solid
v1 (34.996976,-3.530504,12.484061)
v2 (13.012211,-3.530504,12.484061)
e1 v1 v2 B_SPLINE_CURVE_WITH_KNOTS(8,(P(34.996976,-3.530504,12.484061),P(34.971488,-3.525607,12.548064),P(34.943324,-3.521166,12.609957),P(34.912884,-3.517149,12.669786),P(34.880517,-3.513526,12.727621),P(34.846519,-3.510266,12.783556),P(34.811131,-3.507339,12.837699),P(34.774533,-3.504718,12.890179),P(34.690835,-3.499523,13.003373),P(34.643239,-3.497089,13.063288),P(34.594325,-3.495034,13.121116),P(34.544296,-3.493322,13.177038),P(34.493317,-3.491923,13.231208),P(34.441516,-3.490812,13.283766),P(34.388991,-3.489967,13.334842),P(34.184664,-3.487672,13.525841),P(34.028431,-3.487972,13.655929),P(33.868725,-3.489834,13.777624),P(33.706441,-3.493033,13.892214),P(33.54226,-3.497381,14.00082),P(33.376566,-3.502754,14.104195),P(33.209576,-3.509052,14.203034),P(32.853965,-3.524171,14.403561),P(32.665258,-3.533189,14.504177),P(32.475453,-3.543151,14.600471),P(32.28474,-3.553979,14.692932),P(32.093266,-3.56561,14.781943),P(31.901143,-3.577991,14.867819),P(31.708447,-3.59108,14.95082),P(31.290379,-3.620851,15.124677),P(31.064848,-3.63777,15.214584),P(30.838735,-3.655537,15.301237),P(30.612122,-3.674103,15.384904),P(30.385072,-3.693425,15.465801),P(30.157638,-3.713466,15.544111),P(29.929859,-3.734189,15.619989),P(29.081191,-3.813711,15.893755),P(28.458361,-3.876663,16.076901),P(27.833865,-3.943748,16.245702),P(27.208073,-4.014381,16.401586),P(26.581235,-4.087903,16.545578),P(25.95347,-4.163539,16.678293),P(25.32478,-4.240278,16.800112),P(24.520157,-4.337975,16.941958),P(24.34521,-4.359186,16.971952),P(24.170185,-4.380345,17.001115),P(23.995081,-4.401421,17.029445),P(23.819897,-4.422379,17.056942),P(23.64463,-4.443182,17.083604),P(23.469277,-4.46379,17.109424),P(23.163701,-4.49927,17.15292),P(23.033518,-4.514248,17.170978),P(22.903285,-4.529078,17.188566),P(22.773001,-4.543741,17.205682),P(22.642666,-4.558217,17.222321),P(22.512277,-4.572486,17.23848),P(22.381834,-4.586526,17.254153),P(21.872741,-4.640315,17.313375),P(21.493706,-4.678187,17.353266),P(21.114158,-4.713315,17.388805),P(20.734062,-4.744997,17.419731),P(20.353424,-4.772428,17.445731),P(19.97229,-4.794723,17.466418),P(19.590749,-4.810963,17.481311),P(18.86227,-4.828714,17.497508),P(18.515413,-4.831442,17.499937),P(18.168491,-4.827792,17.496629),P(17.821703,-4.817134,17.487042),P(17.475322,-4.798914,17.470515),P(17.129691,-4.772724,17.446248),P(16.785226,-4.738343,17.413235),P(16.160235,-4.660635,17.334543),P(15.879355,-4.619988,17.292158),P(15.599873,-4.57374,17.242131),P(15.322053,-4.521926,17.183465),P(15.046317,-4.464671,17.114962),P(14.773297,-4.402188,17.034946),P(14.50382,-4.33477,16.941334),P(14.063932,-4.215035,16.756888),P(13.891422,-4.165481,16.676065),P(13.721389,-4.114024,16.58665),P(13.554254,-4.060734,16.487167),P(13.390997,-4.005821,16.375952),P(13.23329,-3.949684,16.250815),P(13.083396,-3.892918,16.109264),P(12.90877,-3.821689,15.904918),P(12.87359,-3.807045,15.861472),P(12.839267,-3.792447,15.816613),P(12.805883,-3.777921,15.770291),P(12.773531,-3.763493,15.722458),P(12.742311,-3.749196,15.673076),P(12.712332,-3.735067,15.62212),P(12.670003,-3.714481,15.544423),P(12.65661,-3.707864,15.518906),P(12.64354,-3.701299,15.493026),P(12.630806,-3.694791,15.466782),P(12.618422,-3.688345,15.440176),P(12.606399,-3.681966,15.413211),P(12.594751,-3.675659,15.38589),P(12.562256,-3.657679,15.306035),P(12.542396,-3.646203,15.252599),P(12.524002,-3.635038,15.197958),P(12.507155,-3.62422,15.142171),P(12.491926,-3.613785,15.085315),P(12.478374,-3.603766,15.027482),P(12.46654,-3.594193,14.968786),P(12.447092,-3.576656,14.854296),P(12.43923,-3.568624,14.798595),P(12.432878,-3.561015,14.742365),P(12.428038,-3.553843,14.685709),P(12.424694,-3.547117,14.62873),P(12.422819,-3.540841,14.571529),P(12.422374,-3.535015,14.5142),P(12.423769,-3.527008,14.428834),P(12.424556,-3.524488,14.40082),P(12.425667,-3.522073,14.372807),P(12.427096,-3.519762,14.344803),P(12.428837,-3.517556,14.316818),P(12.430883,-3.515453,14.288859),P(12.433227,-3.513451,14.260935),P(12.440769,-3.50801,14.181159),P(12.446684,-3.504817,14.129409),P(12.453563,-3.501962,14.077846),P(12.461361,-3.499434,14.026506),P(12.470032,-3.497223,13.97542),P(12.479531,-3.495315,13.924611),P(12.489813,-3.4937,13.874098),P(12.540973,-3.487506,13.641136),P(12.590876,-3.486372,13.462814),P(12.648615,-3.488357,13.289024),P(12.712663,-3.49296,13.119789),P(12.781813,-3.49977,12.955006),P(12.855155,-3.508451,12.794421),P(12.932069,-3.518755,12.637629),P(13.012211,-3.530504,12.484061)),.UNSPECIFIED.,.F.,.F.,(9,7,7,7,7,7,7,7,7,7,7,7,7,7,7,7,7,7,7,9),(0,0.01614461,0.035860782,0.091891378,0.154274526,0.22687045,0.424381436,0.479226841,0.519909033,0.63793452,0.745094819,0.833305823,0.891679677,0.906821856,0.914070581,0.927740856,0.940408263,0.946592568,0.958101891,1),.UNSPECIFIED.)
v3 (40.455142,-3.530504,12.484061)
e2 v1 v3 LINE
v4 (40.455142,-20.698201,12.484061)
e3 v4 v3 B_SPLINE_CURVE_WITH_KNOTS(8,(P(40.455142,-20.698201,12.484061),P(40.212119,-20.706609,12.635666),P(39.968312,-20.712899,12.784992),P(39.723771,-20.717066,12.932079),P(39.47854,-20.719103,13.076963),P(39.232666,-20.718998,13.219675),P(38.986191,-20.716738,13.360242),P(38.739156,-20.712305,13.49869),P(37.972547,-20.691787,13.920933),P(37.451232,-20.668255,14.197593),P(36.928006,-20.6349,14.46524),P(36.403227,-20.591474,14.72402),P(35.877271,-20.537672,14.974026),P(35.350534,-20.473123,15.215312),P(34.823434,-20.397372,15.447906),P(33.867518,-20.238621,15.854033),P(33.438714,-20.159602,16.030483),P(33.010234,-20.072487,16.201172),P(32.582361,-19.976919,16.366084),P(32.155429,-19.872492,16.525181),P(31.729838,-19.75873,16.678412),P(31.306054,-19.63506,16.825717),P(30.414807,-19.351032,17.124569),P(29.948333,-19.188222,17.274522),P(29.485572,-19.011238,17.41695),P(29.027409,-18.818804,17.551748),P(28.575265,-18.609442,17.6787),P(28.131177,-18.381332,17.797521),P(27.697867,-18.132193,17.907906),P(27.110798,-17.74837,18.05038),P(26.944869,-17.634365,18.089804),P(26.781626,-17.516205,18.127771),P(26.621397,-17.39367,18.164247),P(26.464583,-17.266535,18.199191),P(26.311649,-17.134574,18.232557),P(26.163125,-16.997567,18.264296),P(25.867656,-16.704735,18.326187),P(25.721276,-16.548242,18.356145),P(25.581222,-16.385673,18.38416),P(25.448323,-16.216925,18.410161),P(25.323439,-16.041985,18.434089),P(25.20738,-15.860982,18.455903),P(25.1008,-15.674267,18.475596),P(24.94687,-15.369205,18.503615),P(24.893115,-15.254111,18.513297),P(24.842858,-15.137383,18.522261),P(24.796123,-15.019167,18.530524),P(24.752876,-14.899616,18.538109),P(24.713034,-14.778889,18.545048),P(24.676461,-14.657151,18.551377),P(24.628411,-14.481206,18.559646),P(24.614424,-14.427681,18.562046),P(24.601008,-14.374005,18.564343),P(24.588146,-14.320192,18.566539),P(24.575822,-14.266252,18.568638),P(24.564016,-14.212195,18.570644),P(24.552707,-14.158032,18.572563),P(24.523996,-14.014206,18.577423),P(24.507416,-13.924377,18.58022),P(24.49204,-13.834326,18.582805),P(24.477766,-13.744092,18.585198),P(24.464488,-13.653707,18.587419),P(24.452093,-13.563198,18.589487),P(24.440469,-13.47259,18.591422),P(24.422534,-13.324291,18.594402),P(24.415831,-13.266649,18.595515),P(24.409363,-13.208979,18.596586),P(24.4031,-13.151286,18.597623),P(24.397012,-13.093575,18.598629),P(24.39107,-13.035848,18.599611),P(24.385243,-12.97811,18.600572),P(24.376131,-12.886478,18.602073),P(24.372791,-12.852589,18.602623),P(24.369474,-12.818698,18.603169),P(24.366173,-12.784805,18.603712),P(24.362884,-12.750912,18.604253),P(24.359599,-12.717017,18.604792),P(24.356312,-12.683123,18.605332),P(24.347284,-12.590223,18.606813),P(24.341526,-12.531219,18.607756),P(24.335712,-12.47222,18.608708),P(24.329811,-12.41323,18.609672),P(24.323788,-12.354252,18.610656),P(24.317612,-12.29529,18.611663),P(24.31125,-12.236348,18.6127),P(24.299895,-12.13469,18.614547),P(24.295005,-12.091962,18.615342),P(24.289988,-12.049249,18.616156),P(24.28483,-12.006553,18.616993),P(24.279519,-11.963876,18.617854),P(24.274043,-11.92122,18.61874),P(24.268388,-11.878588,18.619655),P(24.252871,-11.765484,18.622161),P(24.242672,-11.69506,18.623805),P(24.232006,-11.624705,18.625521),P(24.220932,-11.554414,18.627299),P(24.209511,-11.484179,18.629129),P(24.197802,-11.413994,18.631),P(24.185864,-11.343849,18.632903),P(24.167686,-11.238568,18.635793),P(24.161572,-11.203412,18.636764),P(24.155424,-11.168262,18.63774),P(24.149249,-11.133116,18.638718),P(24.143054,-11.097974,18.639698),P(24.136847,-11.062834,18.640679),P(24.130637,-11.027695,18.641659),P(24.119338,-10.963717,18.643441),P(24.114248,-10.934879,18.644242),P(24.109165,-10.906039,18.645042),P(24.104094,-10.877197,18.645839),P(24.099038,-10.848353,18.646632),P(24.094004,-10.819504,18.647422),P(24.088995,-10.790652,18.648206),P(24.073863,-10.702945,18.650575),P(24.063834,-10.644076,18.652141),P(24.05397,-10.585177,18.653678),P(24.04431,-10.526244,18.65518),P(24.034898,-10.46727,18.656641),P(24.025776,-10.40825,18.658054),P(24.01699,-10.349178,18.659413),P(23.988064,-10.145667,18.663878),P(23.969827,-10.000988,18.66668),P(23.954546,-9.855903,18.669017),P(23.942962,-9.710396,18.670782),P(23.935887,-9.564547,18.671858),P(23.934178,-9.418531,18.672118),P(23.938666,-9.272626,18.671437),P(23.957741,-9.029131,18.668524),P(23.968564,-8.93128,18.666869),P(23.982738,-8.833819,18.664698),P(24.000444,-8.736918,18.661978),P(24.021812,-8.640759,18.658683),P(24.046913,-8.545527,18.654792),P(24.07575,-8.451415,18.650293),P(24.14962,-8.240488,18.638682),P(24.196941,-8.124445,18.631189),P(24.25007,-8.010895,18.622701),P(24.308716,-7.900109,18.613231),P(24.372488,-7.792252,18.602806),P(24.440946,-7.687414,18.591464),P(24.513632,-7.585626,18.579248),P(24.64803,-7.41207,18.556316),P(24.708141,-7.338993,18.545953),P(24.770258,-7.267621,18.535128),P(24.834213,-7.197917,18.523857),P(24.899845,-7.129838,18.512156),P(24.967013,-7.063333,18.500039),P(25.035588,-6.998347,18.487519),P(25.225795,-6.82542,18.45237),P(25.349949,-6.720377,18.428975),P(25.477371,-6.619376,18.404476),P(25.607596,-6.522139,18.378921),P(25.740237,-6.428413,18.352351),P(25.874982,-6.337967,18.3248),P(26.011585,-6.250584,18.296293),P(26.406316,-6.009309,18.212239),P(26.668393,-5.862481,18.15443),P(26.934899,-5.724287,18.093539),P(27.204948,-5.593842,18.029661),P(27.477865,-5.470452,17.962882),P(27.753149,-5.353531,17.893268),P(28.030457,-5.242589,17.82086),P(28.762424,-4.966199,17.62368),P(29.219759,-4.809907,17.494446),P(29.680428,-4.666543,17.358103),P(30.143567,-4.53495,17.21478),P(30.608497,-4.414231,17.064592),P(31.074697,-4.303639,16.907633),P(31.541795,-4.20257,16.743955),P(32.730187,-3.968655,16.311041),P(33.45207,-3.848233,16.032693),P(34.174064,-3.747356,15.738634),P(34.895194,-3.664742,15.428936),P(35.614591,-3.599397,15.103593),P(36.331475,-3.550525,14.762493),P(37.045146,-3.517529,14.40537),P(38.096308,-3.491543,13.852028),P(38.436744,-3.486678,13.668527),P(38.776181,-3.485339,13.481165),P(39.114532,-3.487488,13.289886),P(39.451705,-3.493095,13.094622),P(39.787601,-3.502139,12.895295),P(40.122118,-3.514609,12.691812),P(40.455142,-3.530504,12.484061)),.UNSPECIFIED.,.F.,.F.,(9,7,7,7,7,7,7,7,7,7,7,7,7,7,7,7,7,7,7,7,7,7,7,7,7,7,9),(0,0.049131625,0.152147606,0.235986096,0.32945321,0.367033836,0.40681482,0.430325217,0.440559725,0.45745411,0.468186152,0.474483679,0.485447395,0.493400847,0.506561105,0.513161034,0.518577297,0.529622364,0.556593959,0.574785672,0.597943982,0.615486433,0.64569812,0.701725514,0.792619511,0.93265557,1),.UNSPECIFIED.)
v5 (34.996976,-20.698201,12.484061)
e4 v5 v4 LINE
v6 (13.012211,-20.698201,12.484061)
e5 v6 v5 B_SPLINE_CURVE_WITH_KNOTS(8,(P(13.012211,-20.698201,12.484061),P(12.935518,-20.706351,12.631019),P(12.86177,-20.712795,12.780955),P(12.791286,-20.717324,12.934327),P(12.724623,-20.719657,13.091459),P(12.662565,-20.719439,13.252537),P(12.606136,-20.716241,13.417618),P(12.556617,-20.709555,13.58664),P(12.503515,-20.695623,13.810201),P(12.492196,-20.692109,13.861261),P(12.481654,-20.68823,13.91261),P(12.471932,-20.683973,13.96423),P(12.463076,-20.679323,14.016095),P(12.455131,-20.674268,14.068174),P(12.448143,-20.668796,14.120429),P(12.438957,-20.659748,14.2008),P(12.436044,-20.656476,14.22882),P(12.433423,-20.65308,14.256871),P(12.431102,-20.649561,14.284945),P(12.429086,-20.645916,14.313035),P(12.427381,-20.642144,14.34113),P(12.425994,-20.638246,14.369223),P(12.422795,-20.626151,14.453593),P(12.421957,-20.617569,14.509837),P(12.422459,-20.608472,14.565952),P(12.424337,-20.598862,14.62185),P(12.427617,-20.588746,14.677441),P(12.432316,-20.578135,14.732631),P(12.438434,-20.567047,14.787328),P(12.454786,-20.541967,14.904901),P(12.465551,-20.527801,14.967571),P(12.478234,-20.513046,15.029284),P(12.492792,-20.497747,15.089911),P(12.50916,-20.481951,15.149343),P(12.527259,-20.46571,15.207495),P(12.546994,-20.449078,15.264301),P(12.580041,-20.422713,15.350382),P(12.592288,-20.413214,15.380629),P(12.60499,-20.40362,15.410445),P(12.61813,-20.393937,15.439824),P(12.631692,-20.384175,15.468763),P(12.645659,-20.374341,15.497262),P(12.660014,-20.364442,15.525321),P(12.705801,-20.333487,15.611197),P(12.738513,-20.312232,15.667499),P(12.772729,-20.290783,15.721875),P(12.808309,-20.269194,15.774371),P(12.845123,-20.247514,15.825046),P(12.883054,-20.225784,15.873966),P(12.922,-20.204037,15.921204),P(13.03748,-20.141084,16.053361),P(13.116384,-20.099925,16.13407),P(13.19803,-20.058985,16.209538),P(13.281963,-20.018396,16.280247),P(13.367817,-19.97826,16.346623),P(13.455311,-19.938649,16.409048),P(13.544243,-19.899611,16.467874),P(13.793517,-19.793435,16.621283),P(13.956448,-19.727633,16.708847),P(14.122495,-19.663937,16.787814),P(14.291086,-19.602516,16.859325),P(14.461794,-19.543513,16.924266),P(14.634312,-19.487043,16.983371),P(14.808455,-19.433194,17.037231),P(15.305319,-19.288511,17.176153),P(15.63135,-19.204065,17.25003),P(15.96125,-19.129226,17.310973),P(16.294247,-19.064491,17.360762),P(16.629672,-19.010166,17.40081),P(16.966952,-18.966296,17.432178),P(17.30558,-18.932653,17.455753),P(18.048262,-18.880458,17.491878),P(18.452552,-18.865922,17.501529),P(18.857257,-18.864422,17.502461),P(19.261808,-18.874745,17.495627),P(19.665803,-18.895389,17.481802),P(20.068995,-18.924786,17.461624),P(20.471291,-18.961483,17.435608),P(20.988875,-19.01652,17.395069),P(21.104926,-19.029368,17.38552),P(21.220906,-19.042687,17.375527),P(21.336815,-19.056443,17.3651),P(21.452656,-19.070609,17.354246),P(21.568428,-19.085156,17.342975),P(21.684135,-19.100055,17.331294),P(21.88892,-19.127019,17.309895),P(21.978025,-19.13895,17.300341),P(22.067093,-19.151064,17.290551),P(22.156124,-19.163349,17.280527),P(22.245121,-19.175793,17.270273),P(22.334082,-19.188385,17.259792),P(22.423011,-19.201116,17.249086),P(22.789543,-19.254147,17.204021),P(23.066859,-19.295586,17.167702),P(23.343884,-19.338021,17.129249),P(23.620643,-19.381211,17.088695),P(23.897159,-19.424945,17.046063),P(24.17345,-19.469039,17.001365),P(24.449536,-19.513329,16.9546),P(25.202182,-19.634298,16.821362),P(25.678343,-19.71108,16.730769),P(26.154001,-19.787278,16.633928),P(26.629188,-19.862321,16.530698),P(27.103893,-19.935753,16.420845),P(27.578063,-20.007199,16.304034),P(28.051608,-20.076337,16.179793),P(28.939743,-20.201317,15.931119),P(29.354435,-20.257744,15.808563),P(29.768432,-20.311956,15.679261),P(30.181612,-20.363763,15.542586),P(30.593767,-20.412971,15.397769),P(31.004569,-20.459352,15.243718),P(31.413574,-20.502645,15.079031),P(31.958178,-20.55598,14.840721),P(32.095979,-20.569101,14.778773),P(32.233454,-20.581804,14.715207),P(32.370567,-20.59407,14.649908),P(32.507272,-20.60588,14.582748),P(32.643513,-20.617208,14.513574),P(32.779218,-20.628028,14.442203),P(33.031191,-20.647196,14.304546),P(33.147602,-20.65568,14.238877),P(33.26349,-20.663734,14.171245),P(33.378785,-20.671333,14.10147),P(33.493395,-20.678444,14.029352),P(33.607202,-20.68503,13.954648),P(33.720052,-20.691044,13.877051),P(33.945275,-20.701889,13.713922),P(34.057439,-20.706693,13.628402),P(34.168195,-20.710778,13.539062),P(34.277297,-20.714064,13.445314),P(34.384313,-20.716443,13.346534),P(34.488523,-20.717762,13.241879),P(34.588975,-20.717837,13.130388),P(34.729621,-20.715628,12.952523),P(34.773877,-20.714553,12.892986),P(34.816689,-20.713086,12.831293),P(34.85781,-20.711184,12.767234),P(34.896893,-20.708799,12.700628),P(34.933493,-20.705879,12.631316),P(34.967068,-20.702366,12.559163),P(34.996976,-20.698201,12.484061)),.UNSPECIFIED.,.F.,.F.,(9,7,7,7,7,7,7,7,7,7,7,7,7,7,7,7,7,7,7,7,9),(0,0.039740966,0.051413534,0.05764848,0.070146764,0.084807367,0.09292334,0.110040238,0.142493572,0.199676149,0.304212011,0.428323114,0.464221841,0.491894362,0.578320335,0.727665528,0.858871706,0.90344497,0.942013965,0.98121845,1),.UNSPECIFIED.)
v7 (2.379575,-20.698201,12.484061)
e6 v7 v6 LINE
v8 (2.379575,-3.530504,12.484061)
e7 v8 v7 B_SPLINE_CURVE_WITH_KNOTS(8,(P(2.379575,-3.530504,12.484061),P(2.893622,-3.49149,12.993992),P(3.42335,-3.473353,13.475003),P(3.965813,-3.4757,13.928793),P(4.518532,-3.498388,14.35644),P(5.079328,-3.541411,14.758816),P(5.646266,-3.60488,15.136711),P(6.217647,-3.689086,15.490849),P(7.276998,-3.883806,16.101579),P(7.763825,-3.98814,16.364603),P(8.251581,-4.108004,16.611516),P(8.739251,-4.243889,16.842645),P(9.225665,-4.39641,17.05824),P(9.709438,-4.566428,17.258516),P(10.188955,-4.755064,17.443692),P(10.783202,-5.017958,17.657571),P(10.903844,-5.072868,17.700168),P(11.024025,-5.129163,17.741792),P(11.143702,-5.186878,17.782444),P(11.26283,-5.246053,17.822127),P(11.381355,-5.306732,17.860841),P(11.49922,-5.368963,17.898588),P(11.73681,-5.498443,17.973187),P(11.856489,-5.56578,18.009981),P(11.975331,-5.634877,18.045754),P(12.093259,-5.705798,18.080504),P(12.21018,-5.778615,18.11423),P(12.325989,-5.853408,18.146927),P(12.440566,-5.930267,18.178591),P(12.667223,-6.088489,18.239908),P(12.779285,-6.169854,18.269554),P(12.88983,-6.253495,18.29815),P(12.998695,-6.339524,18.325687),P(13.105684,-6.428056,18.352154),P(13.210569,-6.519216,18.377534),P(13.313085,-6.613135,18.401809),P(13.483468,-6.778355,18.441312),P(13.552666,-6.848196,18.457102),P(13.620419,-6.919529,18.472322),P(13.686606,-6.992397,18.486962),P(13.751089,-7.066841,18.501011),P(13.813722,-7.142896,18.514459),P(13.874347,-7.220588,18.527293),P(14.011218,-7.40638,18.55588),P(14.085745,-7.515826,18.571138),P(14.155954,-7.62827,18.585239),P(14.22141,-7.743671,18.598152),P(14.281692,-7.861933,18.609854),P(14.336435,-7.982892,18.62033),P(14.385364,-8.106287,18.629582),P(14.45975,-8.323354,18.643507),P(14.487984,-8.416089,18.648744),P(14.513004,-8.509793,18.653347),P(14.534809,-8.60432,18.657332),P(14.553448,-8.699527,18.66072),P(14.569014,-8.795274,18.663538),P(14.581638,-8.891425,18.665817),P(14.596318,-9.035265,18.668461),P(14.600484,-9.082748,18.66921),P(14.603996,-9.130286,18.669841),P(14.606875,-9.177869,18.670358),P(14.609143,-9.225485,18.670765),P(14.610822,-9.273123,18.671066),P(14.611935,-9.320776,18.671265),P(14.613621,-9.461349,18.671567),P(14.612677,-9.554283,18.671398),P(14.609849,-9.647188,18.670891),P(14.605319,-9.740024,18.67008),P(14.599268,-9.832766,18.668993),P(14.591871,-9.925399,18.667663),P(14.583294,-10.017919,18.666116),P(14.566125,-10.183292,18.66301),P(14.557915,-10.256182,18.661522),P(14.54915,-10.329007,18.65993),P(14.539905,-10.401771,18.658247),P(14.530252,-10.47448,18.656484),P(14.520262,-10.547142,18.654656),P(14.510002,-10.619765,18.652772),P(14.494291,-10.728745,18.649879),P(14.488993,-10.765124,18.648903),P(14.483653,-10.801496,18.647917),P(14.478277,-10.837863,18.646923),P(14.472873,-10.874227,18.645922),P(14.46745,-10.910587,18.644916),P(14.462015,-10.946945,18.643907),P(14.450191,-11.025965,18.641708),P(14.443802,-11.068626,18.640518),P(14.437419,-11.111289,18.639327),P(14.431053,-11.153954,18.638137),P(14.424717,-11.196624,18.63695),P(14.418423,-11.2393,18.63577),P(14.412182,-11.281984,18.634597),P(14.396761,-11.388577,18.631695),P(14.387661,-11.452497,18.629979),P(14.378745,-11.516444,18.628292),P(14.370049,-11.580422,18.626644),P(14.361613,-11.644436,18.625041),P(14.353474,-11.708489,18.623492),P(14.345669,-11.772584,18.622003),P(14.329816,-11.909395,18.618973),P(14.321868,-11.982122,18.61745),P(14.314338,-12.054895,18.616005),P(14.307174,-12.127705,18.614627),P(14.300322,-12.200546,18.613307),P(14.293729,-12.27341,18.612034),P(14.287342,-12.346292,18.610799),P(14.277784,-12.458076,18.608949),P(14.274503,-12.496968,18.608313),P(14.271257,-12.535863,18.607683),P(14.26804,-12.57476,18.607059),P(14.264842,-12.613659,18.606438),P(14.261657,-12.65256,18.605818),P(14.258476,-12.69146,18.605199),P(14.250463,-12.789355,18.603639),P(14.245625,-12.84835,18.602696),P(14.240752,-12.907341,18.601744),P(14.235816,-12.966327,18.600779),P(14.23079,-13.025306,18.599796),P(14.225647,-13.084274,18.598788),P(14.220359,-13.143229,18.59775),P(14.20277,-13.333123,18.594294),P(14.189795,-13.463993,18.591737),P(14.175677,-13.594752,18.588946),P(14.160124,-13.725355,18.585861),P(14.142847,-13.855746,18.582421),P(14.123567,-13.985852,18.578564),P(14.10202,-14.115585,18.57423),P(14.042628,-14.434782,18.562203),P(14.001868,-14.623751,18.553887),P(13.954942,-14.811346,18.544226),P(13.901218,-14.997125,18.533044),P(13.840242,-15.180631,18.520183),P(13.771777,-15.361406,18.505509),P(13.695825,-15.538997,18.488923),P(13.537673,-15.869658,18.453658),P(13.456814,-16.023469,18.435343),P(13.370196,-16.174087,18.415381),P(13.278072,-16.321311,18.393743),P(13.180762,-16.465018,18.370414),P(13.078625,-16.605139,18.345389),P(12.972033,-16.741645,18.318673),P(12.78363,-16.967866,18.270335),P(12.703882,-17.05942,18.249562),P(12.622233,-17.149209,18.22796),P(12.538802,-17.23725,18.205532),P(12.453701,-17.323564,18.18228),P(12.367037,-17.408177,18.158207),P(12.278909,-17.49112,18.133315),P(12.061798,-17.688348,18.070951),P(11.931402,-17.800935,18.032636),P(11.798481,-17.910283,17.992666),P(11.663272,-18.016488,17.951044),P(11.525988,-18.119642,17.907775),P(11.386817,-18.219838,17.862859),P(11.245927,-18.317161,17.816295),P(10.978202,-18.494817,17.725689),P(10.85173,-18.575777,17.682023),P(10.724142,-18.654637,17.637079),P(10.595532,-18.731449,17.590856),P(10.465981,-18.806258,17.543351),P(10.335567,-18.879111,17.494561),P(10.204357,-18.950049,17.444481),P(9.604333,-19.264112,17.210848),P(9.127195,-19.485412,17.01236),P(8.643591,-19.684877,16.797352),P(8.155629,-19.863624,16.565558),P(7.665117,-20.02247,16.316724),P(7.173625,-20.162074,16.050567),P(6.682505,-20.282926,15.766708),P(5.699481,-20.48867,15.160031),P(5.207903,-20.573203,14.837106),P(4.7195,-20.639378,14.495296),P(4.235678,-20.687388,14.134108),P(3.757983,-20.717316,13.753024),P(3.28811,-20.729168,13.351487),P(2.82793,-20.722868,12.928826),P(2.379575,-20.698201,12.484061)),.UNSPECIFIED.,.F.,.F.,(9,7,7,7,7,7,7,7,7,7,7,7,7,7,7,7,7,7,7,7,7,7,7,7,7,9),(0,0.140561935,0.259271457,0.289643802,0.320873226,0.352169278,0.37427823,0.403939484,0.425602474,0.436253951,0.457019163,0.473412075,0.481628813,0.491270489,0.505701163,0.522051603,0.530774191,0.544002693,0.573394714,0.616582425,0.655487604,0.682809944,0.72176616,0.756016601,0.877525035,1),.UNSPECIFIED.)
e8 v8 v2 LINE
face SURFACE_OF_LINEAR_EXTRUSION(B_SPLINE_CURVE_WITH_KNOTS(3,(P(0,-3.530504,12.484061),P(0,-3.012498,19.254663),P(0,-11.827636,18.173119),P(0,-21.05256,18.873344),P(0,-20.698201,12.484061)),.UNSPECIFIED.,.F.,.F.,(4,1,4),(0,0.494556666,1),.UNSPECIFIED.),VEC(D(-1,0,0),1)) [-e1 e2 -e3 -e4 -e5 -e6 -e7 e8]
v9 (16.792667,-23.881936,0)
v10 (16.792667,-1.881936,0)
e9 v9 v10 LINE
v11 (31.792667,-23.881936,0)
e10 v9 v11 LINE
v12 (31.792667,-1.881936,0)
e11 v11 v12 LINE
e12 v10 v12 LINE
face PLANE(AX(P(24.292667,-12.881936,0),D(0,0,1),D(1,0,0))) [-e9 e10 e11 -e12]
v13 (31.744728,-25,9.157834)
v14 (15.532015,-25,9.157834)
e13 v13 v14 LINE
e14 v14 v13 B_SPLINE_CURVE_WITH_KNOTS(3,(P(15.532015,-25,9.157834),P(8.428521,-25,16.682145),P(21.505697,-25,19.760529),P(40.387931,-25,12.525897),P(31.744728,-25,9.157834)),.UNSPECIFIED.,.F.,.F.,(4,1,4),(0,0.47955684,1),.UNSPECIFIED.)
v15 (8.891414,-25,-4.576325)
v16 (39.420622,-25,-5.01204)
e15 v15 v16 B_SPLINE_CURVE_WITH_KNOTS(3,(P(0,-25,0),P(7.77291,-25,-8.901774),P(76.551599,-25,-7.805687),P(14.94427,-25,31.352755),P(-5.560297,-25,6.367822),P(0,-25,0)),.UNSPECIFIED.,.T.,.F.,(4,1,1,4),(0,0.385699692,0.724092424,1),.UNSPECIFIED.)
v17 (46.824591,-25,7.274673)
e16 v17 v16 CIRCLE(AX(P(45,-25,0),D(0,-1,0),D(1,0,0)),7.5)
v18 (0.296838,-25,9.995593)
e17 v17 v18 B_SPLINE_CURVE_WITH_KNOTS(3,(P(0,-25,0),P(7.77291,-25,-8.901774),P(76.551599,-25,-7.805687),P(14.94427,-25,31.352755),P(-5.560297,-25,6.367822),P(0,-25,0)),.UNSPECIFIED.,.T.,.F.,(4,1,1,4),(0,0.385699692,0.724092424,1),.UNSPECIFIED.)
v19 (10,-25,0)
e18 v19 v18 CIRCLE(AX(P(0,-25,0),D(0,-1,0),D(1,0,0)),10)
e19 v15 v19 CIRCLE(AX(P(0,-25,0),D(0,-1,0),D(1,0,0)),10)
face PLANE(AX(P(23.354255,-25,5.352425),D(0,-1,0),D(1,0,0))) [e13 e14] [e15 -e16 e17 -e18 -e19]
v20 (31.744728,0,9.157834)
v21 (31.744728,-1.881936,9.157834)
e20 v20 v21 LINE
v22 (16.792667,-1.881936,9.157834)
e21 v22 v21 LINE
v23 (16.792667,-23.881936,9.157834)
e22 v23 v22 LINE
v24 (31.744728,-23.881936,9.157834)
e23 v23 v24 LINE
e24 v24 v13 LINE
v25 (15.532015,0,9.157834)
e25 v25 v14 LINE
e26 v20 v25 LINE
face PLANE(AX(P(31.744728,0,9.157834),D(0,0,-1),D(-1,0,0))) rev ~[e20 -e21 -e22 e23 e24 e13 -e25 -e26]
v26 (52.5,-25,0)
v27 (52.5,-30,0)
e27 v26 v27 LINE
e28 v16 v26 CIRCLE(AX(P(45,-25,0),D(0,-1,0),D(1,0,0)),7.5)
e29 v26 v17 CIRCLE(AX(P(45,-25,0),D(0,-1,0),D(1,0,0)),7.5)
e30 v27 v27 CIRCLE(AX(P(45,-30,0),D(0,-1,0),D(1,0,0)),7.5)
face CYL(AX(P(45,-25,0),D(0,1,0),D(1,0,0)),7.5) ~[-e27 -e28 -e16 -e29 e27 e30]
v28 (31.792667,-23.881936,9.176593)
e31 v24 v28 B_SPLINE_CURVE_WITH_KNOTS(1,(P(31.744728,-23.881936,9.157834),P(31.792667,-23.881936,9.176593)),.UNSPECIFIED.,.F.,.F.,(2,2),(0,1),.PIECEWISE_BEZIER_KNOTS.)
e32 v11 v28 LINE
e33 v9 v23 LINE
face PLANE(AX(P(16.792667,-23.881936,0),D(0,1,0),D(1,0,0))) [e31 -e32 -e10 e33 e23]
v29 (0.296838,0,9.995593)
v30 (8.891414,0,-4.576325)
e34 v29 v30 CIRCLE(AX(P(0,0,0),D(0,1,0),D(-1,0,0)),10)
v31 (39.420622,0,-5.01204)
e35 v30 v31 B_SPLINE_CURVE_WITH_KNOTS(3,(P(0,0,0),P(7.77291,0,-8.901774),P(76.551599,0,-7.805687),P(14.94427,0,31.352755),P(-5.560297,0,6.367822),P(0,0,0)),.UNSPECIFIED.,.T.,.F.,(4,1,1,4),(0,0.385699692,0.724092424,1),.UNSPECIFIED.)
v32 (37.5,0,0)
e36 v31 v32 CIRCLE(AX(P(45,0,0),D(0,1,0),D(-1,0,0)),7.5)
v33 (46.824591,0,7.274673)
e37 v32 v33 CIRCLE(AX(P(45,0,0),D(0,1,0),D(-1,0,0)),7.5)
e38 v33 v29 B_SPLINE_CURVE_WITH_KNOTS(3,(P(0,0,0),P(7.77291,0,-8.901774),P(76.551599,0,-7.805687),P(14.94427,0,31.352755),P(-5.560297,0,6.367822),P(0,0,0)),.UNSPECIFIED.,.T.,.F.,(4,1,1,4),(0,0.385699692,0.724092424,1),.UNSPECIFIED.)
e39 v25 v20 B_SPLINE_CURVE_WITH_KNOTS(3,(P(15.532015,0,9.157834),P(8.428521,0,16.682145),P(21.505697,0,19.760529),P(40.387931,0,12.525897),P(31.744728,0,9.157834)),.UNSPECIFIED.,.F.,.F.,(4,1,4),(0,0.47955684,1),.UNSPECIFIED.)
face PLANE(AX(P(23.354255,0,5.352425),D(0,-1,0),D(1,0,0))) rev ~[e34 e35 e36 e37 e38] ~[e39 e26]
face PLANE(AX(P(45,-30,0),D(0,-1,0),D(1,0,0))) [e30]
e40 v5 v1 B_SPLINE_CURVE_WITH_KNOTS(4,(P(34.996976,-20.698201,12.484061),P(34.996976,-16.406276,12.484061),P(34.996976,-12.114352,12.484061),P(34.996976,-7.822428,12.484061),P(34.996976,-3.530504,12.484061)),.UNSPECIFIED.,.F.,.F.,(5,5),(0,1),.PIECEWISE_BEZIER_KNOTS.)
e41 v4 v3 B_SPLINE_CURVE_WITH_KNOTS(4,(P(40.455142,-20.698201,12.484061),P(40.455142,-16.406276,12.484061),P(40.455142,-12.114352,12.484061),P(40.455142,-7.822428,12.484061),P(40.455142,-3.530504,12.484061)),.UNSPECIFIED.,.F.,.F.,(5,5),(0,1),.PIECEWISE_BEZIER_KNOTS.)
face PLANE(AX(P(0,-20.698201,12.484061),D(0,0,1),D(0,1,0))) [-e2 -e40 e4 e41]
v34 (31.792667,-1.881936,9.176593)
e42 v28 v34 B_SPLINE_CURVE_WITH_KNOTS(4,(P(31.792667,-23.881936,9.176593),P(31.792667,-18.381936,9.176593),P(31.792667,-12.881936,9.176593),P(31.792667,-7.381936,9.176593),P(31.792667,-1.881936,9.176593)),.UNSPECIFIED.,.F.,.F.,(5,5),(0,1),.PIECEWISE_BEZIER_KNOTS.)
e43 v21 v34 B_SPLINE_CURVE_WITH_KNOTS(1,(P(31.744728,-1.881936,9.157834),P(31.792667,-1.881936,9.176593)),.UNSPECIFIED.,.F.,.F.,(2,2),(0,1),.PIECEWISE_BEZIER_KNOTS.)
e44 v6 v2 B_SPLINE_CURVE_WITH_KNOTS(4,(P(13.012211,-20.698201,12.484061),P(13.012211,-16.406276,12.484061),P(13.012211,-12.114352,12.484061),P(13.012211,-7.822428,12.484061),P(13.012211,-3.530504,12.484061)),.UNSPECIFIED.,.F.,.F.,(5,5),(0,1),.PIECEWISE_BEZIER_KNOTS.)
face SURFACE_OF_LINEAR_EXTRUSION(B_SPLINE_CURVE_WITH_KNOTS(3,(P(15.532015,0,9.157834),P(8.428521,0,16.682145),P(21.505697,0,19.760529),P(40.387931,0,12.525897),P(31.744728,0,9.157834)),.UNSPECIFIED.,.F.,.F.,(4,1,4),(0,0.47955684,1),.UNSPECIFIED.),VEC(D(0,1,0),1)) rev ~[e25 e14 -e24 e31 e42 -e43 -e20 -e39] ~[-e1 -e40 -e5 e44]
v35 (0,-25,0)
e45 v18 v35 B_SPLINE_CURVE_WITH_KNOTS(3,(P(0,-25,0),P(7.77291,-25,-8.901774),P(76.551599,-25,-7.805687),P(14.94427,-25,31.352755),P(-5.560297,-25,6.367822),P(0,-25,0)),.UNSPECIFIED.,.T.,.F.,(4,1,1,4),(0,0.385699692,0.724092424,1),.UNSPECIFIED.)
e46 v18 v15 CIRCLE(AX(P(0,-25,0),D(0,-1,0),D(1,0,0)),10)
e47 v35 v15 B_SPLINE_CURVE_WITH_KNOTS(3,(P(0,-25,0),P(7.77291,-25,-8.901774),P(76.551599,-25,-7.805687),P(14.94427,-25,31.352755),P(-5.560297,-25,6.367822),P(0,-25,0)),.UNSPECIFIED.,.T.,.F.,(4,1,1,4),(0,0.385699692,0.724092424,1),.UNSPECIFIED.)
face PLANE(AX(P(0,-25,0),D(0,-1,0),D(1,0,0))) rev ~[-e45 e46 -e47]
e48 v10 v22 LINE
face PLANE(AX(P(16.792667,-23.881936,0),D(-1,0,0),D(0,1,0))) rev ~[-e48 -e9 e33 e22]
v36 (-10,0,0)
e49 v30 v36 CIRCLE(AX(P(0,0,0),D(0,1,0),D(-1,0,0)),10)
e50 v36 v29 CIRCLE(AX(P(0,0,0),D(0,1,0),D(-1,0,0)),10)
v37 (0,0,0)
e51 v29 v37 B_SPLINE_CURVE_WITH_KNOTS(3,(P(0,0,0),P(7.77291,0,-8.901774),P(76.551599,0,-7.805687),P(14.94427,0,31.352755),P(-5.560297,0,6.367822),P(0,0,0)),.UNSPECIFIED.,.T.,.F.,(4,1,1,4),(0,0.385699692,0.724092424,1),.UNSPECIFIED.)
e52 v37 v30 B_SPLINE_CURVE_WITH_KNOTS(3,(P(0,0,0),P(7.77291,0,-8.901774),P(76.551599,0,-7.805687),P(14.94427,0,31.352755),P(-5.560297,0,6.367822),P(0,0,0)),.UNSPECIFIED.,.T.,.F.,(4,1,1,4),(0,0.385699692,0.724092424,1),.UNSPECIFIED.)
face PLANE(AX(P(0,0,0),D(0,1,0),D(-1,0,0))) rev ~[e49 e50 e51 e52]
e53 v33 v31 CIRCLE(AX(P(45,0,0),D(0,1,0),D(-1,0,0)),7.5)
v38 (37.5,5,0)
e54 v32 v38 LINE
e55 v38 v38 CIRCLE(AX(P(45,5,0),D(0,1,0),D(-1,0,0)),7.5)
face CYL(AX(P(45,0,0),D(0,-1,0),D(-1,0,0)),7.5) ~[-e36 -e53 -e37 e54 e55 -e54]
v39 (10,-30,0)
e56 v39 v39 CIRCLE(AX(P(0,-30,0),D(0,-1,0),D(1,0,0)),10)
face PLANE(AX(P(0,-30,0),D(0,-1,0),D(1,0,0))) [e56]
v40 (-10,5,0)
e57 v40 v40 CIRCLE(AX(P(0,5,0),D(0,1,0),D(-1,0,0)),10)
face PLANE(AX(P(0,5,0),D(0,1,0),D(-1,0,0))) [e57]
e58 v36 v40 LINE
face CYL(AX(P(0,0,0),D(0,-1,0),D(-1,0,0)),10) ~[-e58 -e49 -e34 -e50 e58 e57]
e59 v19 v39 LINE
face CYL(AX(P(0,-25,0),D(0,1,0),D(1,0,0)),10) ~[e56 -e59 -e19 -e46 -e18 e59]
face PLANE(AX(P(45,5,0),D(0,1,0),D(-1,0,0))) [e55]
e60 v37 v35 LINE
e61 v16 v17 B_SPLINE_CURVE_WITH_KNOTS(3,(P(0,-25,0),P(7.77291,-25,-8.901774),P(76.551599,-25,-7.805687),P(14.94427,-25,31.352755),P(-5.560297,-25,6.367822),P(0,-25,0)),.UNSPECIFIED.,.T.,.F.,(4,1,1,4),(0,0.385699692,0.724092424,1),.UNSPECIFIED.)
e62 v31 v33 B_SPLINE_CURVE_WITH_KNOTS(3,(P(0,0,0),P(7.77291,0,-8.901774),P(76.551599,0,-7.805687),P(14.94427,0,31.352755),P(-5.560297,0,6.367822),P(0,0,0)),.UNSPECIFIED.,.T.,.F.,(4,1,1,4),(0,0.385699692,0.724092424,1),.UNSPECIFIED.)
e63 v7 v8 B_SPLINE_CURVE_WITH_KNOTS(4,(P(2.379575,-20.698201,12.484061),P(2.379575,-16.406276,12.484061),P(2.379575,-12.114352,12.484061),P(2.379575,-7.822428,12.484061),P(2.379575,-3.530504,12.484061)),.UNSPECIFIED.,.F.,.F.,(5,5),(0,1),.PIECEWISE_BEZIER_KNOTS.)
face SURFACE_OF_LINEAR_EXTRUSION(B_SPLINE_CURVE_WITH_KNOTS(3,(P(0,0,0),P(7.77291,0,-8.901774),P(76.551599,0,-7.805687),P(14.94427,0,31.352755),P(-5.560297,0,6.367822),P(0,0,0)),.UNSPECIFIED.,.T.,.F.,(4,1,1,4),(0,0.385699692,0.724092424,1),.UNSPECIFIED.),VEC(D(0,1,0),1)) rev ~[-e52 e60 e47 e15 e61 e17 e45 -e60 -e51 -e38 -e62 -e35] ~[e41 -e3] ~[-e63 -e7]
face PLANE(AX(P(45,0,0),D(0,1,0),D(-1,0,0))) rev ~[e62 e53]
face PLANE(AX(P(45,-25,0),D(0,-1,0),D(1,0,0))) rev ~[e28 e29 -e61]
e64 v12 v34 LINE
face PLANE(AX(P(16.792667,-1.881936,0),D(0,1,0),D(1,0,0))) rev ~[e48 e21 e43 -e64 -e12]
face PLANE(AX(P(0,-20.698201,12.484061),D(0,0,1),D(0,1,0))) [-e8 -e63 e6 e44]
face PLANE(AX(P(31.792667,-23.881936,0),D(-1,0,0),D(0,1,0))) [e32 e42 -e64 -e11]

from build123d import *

# Parameters (mm, degrees)
F1_DEPTH  = 25
F2_R      = 10
F2_R_2    = 7.5
F3_DEPTH  = 5
F4_R      = 10
F4_R_2    = 7.5
F5_DEPTH  = 5
F7_DEPTH  = 25
F9_DEPTH  = 50
F10_W     = 15
F10_H     = 22
F11_DEPTH = 11.7


with BuildPart() as f1:
    # F0 (on Front) → F1 (new body)
    with BuildSketch(Plane.XZ):
        with BuildLine():
            add(Edge.make_bspline(
                [(0, 0), (7.7729099033, -8.9017739988), (76.5515985722, -7.8056866995), (14.944270392, 31.3527554007), (-5.5602967015, 6.3678217319), (0, 0)],
                knots=[0, 0, 0, 0, 0.3856996923, 0.7240924244, 1, 1, 1, 1], degree=3))
        make_face()
    extrude(amount=F1_DEPTH)

    # F2 (on face) → F3 (join)
    with BuildSketch(Plane(origin=(0, 0, 0), x_dir=(-1, 0, 0), z_dir=(0, 1, 0))):
        Circle(F2_R)
        with Locations((-45, 0)):
            Circle(F2_R_2)
    extrude(amount=F3_DEPTH)

    # F4 (on face) → F5 (join)
    with BuildSketch(Plane.XZ.offset(25)):
        Circle(F4_R)
        with Locations((45, 0)):
            Circle(F4_R_2)
    extrude(amount=F5_DEPTH)

    # F6 (on face) → F7 (cut)
    with BuildSketch(Plane(origin=(0, 0, 0), x_dir=(-1, 0, 0), z_dir=(0, 1, 0))):
        with BuildLine():
            add(Edge.make_bspline(
                [(-15.5320151279, 9.157834348), (-8.4285214161, 16.6821450751), (-21.5056969383, 19.7605291958), (-40.3879305064, 12.5258969863), (-31.7447283103, 9.157834348)],
                knots=[0, 0, 0, 0, 0.4795568401, 1, 1, 1, 1], degree=3))
            Line((-31.7447283103, 9.157834348), (-15.5320151279, 9.157834348))
        make_face()
    extrude(amount=-F7_DEPTH, mode=Mode.SUBTRACT)

    # F8 (on Right) → F9 (cut)
    with BuildSketch(Plane.YZ):
        with BuildLine():
            add(Edge.make_bspline(
                [(-3.5305038338, 12.4840607559), (-3.0124981012, 19.2546628614), (-11.8276355966, 18.1731187054), (-21.0525599776, 18.8733435584), (-20.6982006042, 12.4840607559)],
                knots=[0, 0, 0, 0, 0.4945566661, 1, 1, 1, 1], degree=3))
            Line((-20.6982006042, 12.4840607559), (-3.5305038338, 12.4840607559))
        make_face()
    extrude(amount=F9_DEPTH, mode=Mode.SUBTRACT)

    # F10 (on Top) → F11 (cut)
    with BuildSketch(Plane.XY):
        with Locations((24.2926669866, -12.8819355741)):
            Rectangle(F10_W, F10_H)
    extrude(amount=F11_DEPTH, mode=Mode.SUBTRACT)


solid = f1.part
